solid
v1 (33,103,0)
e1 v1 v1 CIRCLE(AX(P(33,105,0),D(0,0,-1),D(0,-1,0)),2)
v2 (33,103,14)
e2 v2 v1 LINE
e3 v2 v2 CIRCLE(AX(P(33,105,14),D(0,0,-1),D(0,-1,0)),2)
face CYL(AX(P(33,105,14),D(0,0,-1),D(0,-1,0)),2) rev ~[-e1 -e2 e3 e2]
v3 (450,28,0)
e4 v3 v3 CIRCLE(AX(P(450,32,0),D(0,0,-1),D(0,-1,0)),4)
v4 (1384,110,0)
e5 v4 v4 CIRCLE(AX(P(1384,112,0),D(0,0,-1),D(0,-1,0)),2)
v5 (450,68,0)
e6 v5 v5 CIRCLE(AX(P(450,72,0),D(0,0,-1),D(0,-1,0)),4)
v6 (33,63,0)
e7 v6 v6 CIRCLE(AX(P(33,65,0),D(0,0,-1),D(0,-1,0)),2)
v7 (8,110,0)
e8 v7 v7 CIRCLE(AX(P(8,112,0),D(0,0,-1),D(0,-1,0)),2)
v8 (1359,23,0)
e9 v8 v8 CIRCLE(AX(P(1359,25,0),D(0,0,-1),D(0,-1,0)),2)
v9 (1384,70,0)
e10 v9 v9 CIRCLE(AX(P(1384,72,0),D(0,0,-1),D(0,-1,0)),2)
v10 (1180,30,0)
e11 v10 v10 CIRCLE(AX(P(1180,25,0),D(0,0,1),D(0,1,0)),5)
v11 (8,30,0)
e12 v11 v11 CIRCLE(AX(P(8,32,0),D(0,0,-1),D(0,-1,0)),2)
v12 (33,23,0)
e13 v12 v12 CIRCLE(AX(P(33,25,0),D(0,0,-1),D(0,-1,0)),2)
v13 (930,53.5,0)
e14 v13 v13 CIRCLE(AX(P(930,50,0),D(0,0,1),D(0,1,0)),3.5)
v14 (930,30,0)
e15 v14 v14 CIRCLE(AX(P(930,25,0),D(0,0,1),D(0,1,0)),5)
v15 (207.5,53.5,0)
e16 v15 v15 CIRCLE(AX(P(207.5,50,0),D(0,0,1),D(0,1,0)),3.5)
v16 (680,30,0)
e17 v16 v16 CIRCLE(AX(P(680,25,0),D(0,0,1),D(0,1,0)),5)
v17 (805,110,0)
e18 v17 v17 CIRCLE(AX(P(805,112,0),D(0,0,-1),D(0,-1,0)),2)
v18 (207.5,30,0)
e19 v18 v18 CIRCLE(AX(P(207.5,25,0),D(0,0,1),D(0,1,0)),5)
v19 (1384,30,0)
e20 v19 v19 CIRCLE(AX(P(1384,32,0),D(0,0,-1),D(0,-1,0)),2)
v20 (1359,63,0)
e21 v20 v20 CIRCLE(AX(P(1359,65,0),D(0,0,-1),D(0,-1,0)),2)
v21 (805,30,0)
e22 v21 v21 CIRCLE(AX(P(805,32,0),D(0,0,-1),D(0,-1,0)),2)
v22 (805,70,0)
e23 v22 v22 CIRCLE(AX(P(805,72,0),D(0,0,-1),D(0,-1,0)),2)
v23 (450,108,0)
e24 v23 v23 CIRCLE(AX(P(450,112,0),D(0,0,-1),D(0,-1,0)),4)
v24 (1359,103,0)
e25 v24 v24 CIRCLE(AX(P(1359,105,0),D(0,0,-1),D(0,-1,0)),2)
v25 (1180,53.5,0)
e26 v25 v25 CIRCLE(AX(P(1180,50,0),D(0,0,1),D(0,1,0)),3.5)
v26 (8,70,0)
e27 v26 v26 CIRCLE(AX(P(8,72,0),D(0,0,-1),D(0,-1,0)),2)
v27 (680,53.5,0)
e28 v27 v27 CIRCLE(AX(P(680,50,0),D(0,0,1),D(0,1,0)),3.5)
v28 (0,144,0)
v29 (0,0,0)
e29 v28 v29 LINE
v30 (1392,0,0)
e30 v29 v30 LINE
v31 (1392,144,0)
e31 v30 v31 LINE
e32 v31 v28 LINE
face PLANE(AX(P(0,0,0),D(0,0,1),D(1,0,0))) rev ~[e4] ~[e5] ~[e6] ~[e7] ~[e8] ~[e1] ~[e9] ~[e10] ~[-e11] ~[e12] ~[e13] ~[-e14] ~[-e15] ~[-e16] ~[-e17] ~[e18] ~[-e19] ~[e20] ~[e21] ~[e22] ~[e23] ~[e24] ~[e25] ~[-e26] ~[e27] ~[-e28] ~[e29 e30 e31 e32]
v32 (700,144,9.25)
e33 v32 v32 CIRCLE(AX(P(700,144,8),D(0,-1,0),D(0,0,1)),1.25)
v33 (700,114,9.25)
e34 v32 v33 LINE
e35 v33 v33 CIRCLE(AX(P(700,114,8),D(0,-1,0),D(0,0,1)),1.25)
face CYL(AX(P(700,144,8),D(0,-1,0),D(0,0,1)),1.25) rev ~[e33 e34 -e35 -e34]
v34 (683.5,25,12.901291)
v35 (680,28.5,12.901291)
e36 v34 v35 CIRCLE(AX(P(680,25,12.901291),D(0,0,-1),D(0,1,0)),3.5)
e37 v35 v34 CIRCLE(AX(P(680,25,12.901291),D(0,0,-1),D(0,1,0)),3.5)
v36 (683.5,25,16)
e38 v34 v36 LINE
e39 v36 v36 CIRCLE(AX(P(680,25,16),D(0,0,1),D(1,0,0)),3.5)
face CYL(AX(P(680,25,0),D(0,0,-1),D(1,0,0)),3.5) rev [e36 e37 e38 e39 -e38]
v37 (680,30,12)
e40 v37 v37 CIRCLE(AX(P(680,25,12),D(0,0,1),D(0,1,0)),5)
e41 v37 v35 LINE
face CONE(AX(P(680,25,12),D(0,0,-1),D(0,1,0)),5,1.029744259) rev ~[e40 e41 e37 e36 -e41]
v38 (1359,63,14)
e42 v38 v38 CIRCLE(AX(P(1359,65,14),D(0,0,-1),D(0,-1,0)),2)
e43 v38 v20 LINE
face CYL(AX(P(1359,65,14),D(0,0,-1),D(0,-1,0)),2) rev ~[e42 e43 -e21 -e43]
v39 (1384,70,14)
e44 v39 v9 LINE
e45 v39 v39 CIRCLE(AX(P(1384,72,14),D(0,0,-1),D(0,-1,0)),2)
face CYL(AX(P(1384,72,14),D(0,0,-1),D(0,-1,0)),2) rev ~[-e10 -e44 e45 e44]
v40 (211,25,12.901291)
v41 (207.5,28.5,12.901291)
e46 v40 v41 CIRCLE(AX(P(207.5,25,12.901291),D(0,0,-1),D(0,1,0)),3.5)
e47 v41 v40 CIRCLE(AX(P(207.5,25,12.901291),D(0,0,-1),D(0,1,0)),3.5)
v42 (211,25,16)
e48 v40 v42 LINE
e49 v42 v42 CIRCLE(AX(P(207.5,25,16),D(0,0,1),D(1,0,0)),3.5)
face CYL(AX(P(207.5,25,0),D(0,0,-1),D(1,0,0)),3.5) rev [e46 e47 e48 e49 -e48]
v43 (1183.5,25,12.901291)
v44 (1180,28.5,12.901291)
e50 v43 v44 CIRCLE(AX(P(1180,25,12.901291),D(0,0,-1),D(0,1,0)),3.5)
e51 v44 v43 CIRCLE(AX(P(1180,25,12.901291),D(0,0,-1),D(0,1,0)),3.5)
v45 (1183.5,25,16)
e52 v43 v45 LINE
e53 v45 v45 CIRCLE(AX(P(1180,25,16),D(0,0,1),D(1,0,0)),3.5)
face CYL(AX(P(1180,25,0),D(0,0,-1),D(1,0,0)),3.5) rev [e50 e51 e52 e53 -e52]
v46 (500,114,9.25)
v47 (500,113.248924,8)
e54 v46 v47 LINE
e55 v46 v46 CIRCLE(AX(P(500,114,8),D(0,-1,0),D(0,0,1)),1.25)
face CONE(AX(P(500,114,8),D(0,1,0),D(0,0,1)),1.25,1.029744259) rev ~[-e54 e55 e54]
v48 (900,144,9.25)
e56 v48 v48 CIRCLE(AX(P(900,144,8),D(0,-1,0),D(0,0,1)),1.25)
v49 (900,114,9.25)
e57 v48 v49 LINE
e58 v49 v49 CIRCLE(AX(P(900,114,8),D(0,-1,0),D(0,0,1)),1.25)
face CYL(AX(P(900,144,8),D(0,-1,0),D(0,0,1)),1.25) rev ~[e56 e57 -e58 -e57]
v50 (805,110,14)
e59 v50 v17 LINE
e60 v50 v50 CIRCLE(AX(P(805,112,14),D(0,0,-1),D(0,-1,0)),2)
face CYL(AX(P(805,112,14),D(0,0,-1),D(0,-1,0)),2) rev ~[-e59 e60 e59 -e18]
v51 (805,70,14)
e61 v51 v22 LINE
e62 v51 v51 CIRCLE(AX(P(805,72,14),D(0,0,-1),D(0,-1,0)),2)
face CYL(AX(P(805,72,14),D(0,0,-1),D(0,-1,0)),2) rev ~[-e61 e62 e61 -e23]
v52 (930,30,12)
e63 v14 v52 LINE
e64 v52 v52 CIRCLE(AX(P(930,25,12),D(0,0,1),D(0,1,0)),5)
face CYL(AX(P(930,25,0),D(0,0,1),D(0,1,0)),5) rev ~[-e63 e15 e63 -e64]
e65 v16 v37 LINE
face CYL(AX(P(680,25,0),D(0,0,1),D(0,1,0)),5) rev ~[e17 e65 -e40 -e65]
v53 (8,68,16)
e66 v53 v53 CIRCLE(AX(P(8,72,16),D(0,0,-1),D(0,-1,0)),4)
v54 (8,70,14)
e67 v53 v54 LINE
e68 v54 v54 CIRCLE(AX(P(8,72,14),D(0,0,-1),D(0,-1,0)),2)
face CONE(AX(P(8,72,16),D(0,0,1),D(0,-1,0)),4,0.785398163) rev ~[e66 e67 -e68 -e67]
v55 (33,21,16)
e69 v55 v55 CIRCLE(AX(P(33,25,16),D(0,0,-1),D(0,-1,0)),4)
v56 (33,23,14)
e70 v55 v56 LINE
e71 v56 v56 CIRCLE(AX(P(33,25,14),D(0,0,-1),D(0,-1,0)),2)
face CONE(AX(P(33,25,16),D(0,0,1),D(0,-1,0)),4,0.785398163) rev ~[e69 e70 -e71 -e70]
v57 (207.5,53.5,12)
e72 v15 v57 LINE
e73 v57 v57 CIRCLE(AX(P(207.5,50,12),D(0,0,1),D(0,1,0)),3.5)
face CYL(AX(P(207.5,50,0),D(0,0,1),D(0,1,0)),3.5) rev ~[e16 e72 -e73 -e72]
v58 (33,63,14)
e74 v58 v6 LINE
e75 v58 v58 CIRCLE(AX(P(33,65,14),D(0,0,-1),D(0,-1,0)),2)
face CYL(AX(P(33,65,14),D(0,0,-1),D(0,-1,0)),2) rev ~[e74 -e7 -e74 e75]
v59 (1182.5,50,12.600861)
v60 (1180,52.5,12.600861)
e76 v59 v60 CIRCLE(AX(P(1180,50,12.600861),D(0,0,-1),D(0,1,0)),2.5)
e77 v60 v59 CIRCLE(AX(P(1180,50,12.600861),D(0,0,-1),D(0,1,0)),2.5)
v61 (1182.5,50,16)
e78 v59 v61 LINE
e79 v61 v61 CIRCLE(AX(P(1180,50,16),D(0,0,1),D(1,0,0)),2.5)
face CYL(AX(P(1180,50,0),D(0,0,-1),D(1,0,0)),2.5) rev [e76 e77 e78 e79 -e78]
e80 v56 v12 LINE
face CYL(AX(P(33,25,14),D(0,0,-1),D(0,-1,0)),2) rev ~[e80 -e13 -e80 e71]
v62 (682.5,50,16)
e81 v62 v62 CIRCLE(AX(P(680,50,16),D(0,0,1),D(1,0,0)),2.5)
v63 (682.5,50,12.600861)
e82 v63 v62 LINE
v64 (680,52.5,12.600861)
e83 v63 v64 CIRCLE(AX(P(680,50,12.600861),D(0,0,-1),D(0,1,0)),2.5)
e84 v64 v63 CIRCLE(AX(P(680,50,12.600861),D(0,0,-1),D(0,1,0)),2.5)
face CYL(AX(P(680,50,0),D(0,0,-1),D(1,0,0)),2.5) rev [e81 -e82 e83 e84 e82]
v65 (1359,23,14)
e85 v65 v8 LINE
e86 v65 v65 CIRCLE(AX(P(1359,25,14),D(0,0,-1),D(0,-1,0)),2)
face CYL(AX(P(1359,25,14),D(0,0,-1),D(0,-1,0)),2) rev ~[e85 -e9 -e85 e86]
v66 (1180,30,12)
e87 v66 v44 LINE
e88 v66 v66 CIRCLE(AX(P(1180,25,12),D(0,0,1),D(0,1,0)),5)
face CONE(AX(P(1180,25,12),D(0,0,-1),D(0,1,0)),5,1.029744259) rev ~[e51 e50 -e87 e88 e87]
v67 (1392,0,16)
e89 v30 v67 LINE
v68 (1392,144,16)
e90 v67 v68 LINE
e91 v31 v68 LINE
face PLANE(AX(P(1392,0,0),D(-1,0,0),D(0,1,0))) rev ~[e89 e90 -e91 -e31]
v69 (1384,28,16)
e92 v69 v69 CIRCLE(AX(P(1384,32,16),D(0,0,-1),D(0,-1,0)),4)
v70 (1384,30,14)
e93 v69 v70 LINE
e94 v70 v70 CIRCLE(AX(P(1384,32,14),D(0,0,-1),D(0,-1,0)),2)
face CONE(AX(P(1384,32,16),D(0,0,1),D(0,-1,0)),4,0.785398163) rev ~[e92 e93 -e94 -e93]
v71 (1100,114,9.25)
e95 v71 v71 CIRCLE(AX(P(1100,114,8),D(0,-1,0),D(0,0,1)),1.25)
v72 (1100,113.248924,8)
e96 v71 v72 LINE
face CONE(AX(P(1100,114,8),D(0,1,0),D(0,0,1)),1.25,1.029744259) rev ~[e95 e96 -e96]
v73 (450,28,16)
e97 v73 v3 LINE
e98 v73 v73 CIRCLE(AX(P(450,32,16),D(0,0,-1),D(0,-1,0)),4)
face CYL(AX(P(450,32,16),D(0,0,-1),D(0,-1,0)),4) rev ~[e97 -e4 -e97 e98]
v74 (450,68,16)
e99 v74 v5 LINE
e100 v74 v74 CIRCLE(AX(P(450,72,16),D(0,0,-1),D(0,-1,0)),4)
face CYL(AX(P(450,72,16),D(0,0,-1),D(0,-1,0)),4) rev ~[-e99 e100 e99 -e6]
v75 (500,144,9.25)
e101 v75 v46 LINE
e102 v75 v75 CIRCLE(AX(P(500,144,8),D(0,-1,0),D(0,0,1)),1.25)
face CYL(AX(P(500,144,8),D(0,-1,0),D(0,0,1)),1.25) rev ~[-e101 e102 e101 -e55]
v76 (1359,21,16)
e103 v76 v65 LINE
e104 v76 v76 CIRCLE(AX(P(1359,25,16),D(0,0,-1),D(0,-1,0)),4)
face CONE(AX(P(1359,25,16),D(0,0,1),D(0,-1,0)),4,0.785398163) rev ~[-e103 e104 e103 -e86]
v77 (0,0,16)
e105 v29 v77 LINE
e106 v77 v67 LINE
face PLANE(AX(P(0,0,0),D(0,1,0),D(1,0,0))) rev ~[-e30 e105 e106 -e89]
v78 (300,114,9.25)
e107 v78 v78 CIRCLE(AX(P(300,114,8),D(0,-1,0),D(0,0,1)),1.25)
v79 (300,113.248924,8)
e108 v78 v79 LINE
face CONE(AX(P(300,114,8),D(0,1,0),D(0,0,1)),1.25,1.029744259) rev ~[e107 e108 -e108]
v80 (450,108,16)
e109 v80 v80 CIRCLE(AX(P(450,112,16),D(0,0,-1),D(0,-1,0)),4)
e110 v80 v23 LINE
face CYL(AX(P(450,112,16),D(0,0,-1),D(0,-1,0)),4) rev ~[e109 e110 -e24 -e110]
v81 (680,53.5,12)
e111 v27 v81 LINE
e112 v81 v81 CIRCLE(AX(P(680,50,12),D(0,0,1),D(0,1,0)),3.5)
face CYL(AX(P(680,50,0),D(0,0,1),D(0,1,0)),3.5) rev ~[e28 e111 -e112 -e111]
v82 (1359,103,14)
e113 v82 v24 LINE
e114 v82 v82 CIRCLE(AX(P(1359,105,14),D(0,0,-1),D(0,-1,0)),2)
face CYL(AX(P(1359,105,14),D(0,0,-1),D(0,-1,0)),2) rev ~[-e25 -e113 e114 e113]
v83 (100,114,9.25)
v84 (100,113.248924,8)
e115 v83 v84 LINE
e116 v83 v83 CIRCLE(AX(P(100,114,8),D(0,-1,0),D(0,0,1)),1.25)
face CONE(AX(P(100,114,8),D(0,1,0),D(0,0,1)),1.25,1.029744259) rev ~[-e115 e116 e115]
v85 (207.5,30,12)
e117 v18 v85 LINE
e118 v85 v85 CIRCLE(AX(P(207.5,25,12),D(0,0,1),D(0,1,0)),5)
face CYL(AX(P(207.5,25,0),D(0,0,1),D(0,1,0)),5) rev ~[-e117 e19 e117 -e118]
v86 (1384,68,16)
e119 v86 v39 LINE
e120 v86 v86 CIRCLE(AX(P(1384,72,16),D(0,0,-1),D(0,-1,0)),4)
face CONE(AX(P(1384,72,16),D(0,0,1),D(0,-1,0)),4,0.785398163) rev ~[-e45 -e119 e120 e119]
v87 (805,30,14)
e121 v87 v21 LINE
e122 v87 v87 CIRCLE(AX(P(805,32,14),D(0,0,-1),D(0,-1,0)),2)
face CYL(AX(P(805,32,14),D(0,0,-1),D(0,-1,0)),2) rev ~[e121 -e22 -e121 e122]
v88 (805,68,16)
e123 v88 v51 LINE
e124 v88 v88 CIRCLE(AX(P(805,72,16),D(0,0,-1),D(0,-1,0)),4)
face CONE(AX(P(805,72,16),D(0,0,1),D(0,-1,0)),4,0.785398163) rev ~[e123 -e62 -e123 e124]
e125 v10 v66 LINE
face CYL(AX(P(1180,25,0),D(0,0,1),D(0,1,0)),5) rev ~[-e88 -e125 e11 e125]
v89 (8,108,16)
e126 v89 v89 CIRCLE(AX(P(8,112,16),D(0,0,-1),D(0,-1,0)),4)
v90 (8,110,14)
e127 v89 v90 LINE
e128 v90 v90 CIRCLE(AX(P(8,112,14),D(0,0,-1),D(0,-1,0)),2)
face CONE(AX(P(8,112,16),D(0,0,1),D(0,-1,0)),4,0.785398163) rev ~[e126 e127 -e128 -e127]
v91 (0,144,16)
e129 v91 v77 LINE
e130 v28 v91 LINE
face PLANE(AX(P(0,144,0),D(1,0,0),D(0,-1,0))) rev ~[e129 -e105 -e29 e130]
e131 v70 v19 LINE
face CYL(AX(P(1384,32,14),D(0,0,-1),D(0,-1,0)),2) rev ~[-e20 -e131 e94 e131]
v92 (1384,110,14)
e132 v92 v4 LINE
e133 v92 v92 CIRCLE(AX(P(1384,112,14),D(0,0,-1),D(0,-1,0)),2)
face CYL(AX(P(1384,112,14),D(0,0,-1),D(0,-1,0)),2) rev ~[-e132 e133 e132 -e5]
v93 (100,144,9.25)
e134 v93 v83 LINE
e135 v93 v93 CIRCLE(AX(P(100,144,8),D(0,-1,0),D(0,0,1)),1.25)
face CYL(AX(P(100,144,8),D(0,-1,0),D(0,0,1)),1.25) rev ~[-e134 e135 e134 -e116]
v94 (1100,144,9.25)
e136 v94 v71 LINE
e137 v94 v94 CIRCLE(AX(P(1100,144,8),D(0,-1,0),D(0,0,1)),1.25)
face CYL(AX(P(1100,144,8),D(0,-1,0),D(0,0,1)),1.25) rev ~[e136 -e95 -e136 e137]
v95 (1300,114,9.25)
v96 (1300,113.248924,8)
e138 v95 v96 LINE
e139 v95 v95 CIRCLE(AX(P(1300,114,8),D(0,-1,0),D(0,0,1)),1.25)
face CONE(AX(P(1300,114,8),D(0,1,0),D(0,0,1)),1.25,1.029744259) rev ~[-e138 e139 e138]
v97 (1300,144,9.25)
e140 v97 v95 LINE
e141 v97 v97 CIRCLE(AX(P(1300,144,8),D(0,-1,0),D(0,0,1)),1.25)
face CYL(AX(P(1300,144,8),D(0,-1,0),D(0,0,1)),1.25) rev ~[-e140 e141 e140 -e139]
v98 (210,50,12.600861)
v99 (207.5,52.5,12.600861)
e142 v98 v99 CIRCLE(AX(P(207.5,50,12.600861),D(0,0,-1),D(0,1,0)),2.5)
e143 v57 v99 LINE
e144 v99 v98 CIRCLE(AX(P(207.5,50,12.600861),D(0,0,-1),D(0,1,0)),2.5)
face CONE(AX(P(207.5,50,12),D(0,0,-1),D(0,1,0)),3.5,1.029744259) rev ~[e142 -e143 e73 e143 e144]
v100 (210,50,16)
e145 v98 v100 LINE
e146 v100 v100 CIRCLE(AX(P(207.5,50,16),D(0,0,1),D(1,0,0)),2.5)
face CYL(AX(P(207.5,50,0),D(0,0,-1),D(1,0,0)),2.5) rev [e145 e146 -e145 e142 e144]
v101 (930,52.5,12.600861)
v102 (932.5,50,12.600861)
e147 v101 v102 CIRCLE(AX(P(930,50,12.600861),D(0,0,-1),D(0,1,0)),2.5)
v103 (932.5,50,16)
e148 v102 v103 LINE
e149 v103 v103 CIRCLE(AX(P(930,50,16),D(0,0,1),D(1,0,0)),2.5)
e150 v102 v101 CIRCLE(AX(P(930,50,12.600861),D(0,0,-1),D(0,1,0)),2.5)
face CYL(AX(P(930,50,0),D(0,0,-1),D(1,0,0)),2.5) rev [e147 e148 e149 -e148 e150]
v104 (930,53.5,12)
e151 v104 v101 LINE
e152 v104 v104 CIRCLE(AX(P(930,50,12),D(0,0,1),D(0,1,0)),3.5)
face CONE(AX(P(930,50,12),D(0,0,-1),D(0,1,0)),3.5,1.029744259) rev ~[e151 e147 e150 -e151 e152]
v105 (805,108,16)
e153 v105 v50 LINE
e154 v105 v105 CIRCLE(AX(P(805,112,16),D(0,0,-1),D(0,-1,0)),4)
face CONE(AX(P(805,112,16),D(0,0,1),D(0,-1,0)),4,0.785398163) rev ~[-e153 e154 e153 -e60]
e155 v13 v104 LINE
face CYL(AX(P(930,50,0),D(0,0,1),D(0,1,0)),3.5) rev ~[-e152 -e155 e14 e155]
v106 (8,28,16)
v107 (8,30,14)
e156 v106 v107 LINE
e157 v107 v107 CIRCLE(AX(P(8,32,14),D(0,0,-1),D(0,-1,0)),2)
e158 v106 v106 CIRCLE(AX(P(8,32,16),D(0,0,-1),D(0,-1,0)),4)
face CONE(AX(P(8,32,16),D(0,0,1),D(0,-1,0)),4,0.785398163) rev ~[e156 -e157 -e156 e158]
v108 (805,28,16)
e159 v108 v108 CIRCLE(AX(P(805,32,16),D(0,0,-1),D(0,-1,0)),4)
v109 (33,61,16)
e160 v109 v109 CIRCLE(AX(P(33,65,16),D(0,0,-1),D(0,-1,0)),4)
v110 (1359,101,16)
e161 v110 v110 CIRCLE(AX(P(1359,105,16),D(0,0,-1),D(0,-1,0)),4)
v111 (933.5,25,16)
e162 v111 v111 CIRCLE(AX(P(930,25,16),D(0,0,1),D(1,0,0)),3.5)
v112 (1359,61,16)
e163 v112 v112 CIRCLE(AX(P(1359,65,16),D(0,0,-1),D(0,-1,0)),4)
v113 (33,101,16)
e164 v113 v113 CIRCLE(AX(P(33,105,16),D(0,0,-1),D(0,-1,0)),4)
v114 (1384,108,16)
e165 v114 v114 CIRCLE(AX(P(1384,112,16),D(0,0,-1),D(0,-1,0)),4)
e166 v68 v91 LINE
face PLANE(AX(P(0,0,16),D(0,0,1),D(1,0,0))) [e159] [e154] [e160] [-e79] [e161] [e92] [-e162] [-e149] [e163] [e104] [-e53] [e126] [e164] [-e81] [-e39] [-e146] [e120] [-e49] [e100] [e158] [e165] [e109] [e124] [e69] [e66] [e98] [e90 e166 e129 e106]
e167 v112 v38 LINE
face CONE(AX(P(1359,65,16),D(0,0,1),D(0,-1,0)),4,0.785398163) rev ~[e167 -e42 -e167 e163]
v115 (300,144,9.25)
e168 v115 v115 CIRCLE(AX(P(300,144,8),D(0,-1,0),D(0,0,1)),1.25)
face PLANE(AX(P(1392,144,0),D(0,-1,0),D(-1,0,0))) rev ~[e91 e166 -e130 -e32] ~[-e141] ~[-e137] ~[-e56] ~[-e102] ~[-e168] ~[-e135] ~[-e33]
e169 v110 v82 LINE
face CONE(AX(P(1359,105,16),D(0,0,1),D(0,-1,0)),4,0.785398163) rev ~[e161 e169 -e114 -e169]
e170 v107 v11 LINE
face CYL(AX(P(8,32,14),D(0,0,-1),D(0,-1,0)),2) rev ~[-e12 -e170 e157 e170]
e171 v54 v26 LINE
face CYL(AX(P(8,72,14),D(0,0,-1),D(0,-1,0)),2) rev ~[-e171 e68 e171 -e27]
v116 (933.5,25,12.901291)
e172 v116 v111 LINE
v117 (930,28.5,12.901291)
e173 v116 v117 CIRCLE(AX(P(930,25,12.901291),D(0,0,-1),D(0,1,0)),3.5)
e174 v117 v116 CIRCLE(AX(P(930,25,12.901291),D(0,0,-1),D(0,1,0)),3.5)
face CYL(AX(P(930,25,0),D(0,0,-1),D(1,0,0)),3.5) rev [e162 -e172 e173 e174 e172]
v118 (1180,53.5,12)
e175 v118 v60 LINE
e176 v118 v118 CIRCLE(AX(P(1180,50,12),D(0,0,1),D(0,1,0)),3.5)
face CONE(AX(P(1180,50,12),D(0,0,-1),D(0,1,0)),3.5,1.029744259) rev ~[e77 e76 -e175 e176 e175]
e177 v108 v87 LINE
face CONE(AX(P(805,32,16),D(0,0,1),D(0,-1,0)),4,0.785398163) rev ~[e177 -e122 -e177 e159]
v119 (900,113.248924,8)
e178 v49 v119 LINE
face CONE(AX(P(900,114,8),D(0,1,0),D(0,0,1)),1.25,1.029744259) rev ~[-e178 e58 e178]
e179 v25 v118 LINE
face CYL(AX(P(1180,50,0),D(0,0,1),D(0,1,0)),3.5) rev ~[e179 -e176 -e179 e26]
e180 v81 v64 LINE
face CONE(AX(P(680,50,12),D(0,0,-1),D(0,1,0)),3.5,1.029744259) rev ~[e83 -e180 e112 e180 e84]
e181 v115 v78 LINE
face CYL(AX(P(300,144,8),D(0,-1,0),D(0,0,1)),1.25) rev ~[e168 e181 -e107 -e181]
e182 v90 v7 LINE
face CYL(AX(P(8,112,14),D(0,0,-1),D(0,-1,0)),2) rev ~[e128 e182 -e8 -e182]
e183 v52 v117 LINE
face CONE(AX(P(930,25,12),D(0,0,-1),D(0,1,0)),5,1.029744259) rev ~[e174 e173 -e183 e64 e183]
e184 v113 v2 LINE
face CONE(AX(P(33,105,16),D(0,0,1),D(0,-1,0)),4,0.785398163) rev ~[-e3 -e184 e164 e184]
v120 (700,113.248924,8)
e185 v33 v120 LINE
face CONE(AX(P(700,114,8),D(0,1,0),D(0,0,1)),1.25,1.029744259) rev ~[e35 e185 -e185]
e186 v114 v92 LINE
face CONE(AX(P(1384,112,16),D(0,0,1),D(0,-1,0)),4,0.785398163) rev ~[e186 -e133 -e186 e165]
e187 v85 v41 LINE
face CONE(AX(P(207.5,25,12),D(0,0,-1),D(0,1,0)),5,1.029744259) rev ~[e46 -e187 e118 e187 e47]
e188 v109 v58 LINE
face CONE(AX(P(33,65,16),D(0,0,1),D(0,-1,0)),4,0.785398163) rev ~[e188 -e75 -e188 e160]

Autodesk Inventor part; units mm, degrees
ref_plane "YZ Plane" through (0, 0, 0) normal (1, 0, 0) x (0, 1, 0)
ref_plane "XZ Plane" through (0, 0, 0) normal (0, 1, 0) x (-1, 0, 0)
ref_plane "XY Plane" through (0, 0, 0) normal (0, 0, 1) x (1, 0, 0)
sketch "Skizze1" plane through (0, 0, 0) normal (0, 0, 1) x (1, 0, 0)
  line L0 (0, 0) -> (1392, 0)
  line L1 (1392, 0) -> (1392, 144)
  line L2 (1392, 144) -> (0, 144)
  line L3 (0, 144) -> (0, 0)
  line L4 (0, 25) -> (1392, 25) construction
  line L5 (0, 50) -> (1392, 50) construction
  line L6 (680, 0) -> (680, 144) construction
  line L7 (930, 144) -> (930, 0) construction
  line L8 (1180, 144) -> (1180, 0) construction
  line L9 (207.5, 144) -> (207.5, 0) construction
  circle A0 centre (207.5, 50) radius 2.5
  circle A1 centre (680, 50) radius 2.5
  circle A2 centre (930, 50) radius 2.5
  circle A3 centre (1180, 50) radius 2.5
  circle A4 centre (1180, 25) radius 3.5
  circle A5 centre (930, 25) radius 3.5
  circle A6 centre (680, 25) radius 3.5
  circle A7 centre (207.5, 25) radius 3.5
  line L10 (1384, 144) -> (1384, 0) construction
  line L11 (1392, 112) -> (0, 112) construction
  line L12 (1392, 32) -> (0, 32) construction
  circle A8 centre (1384, 112) radius 1.5
  circle A9 centre (1384, 32) radius 1.5
  line L13 (8, 144) -> (8, 0) construction
  circle A10 centre (8, 112) radius 1.5
  circle A11 centre (8, 72) radius 1.5
  circle A12 centre (8, 32) radius 1.5
  circle A13 centre (1384, 72) radius 1.5
  circle A14 centre (1359, 25) radius 1.5
  circle A15 centre (1359, 65) radius 1.5
  circle A16 centre (1359, 105) radius 1.5
  circle A17 centre (33, 65) radius 1.5
  line L14 (1359, 25) -> (1359, 105) construction
  line L15 (0, 72) -> (33, 72) construction
  circle A18 centre (33, 105) radius 1.5
  circle A19 centre (33, 25) radius 1.5
  line L16 (33, 25) -> (33, 105) construction
  point P0 (1392, 72)
  dimension "d0" = 1392
  dimension "d1" = 144
  dimension "d2" = 25
  dimension "d3" = 50
  dimension "d6" = 250
  dimension "d8" = 5
  dimension "d9" = 5
  dimension "d10" = 5
  dimension "d11" = 5
  dimension "d12" = 7
  dimension "d13" = 7
  dimension "d14" = 7
  dimension "d15" = 7
  dimension "d20" = 8
  dimension "d21" = 40
  dimension "d22" = 40
  dimension "d23" = 3
  dimension "d24" = 3
  dimension "d25" = 8
  dimension "d26" = 3
  dimension "d27" = 3
  dimension "d28" = 3
  dimension "d29" = 3
  dimension "d137" = 3
  dimension "d138" = 3
  dimension "d139" = 3
  dimension "d143" = 3
  dimension "d153" = 3
  dimension "d154" = 3
  dimension "d206" = 33
  dimension "d210" = 40
  dimension "d211" = 40
  dimension "d212" = 33
  dimension "d213" = 40
  dimension "d214" = 40
  dimension "d215" = 250
  dimension "d216" = 680
  dimension "d217" = 207.5
extrude "Extrusion1" add sketch "Skizze1" along normal blind 16
hole "Bohrung1" at (1180, 25, 0) at (930, 25, 0) at (680, 25, 0) at (207.5, 25, 0) direction (0, 0, 1) diameter 10 depth 12 tip angle 118
hole "Bohrung4" at (930, 50, 0) at (680, 50, 0) at (207.5, 50, 0) at (1180, 50, 0) direction (0, 0, 1) diameter 7 depth 12 tip angle 118
sketch "Skizze4" plane through (0, 0, 16) normal (0, 0, 1) x (1, 0, 0)
  circle A0 centre (8, 112) radius 1.5 projected
  circle A1 centre (8, 72) radius 1.5 projected
  circle A2 centre (8, 32) radius 1.5 projected
  circle A3 centre (30, 72) radius 1.5 projected
  circle A4 centre (207.5, 25) radius 3.5 projected
  circle A5 centre (680, 25) radius 3.5 projected
  circle A6 centre (930, 25) radius 3.5 projected
  circle A7 centre (1180, 25) radius 3.5 projected
  circle A8 centre (1180, 50) radius 2.5 projected
  circle A9 centre (930, 50) radius 2.5 projected
  circle A10 centre (680, 50) radius 2.5 projected
  circle A11 centre (207.5, 50) radius 2.5 projected
  circle A12 centre (33, 25) radius 1.5 projected
  circle A13 centre (33, 105) radius 1.5 projected
  circle A14 centre (33, 65) radius 1.5 projected
  circle A15 centre (1359, 105) radius 1.5 projected
  circle A16 centre (1359, 65) radius 1.5 projected
  circle A17 centre (1359, 25) radius 1.5 projected
  circle A18 centre (1384, 72) radius 1.5 projected
  circle A19 centre (8, 32) radius 1.5 projected
  circle A20 centre (8, 72) radius 1.5 projected
  circle A21 centre (8, 112) radius 1.5 projected
  circle A22 centre (1384, 32) radius 1.5 projected
  circle A23 centre (1384, 112) radius 1.5 projected
  line L0 (0, 0) -> (1392, 0) projected
  line L1 (1392, 0) -> (1392, 144) projected
  line L2 (1392, 144) -> (0, 144) projected
  line L3 (0, 144) -> (0, 0) projected
hole "Bohrung15" at (1359, 65, 16) at (1384, 32, 16) at (1384, 72, 16) at (1384, 112, 16) at (1359, 105, 16) at (1359, 25, 16) at (33, 65, 16) at (33, 25, 16) at (33, 105, 16) at (8, 72, 16) at (8, 112, 16) at (8, 32, 16) direction (0, 0, -1) diameter 4 end through all countersink diameter 8 countersink angle 90
sketch "Skizze5" plane through (0, 144, 0) normal (0, 1, 0) x (1, 0, 0)
  line L0 (1392, -16) -> (0, -16) construction
  line L1 (0, -16) -> (0, 0) construction
  line L2 (0, 0) -> (1392, 0) construction
  line L3 (1392, 0) -> (1392, -16) construction
  line L4 (0, 0) -> (0, -16) construction
  line L5 (0, -8) -> (1392, -8) construction
  line L6 (1392, 0) -> (1392, -16) construction
  line L7 (0, -16) -> (1392, -16) construction
  line L8 (696, -16) -> (696, 0) construction
  line L9 (0, 0) -> (1392, 0) construction
  point P0 (0, 0)
  point P1 (700, -8)
  point P2 (900, -8)
  point P3 (1100, -8)
  point P4 (1300, -8)
  point P5 (500, -8)
  point P6 (300, -8)
  point P7 (100, -8)
  dimension "d190" = 200
  dimension "d191" = 200
  dimension "d195" = 200
  dimension "d196" = 200
  dimension "d197" = 200
  dimension "d244" = 200
  dimension "d245" = 100
  dimension "d246" = 92
hole "Bohrung16" at (1300, 144, 8) at (1100, 144, 8) at (900, 144, 8) at (500, 144, 8) at (300, 144, 8) at (100, 144, 8) at (700, 144, 8) direction (0, -1, 0) diameter 2.5 depth 30 tip angle 118
sketch "Skizze7" plane through (0, 0, 16) normal (0, 0, 1) x (1, 0, 0)
  line L0 (1392, 144) -> (0, 144) construction
  line L1 (0, 0) -> (1392, 0) construction
  line L2 (0, 144) -> (0, 0) construction
  line L3 (1392, 0) -> (1392, 144) construction
  line L4 (450, 0) -> (450, 144) construction
  line L5 (805, 0) -> (805, 144) construction
  circle A0 centre (680, 50) radius 2.5 construction
  line L6 (450, 32) -> (805, 32) construction
  line L7 (805, 112) -> (450, 112) construction
  point P0 (450, 72)
  point P1 (805, 72)
  dimension "d226" = 450
  dimension "d227" = 125
  dimension "d228" = 40
  dimension "d229" = 40
hole "Bohrung17" at (805, 32, 16) at (805, 72, 16) at (805, 112, 16) direction (0, 0, -1) diameter 4 end through all countersink diameter 8 countersink angle 90
hole "Bohrung18" at (450, 72, 16) at (450, 112, 16) at (450, 32, 16) direction (0, 0, -1) diameter 8 end through all
properties part number "licht_150_front" material "Spanplatte"
